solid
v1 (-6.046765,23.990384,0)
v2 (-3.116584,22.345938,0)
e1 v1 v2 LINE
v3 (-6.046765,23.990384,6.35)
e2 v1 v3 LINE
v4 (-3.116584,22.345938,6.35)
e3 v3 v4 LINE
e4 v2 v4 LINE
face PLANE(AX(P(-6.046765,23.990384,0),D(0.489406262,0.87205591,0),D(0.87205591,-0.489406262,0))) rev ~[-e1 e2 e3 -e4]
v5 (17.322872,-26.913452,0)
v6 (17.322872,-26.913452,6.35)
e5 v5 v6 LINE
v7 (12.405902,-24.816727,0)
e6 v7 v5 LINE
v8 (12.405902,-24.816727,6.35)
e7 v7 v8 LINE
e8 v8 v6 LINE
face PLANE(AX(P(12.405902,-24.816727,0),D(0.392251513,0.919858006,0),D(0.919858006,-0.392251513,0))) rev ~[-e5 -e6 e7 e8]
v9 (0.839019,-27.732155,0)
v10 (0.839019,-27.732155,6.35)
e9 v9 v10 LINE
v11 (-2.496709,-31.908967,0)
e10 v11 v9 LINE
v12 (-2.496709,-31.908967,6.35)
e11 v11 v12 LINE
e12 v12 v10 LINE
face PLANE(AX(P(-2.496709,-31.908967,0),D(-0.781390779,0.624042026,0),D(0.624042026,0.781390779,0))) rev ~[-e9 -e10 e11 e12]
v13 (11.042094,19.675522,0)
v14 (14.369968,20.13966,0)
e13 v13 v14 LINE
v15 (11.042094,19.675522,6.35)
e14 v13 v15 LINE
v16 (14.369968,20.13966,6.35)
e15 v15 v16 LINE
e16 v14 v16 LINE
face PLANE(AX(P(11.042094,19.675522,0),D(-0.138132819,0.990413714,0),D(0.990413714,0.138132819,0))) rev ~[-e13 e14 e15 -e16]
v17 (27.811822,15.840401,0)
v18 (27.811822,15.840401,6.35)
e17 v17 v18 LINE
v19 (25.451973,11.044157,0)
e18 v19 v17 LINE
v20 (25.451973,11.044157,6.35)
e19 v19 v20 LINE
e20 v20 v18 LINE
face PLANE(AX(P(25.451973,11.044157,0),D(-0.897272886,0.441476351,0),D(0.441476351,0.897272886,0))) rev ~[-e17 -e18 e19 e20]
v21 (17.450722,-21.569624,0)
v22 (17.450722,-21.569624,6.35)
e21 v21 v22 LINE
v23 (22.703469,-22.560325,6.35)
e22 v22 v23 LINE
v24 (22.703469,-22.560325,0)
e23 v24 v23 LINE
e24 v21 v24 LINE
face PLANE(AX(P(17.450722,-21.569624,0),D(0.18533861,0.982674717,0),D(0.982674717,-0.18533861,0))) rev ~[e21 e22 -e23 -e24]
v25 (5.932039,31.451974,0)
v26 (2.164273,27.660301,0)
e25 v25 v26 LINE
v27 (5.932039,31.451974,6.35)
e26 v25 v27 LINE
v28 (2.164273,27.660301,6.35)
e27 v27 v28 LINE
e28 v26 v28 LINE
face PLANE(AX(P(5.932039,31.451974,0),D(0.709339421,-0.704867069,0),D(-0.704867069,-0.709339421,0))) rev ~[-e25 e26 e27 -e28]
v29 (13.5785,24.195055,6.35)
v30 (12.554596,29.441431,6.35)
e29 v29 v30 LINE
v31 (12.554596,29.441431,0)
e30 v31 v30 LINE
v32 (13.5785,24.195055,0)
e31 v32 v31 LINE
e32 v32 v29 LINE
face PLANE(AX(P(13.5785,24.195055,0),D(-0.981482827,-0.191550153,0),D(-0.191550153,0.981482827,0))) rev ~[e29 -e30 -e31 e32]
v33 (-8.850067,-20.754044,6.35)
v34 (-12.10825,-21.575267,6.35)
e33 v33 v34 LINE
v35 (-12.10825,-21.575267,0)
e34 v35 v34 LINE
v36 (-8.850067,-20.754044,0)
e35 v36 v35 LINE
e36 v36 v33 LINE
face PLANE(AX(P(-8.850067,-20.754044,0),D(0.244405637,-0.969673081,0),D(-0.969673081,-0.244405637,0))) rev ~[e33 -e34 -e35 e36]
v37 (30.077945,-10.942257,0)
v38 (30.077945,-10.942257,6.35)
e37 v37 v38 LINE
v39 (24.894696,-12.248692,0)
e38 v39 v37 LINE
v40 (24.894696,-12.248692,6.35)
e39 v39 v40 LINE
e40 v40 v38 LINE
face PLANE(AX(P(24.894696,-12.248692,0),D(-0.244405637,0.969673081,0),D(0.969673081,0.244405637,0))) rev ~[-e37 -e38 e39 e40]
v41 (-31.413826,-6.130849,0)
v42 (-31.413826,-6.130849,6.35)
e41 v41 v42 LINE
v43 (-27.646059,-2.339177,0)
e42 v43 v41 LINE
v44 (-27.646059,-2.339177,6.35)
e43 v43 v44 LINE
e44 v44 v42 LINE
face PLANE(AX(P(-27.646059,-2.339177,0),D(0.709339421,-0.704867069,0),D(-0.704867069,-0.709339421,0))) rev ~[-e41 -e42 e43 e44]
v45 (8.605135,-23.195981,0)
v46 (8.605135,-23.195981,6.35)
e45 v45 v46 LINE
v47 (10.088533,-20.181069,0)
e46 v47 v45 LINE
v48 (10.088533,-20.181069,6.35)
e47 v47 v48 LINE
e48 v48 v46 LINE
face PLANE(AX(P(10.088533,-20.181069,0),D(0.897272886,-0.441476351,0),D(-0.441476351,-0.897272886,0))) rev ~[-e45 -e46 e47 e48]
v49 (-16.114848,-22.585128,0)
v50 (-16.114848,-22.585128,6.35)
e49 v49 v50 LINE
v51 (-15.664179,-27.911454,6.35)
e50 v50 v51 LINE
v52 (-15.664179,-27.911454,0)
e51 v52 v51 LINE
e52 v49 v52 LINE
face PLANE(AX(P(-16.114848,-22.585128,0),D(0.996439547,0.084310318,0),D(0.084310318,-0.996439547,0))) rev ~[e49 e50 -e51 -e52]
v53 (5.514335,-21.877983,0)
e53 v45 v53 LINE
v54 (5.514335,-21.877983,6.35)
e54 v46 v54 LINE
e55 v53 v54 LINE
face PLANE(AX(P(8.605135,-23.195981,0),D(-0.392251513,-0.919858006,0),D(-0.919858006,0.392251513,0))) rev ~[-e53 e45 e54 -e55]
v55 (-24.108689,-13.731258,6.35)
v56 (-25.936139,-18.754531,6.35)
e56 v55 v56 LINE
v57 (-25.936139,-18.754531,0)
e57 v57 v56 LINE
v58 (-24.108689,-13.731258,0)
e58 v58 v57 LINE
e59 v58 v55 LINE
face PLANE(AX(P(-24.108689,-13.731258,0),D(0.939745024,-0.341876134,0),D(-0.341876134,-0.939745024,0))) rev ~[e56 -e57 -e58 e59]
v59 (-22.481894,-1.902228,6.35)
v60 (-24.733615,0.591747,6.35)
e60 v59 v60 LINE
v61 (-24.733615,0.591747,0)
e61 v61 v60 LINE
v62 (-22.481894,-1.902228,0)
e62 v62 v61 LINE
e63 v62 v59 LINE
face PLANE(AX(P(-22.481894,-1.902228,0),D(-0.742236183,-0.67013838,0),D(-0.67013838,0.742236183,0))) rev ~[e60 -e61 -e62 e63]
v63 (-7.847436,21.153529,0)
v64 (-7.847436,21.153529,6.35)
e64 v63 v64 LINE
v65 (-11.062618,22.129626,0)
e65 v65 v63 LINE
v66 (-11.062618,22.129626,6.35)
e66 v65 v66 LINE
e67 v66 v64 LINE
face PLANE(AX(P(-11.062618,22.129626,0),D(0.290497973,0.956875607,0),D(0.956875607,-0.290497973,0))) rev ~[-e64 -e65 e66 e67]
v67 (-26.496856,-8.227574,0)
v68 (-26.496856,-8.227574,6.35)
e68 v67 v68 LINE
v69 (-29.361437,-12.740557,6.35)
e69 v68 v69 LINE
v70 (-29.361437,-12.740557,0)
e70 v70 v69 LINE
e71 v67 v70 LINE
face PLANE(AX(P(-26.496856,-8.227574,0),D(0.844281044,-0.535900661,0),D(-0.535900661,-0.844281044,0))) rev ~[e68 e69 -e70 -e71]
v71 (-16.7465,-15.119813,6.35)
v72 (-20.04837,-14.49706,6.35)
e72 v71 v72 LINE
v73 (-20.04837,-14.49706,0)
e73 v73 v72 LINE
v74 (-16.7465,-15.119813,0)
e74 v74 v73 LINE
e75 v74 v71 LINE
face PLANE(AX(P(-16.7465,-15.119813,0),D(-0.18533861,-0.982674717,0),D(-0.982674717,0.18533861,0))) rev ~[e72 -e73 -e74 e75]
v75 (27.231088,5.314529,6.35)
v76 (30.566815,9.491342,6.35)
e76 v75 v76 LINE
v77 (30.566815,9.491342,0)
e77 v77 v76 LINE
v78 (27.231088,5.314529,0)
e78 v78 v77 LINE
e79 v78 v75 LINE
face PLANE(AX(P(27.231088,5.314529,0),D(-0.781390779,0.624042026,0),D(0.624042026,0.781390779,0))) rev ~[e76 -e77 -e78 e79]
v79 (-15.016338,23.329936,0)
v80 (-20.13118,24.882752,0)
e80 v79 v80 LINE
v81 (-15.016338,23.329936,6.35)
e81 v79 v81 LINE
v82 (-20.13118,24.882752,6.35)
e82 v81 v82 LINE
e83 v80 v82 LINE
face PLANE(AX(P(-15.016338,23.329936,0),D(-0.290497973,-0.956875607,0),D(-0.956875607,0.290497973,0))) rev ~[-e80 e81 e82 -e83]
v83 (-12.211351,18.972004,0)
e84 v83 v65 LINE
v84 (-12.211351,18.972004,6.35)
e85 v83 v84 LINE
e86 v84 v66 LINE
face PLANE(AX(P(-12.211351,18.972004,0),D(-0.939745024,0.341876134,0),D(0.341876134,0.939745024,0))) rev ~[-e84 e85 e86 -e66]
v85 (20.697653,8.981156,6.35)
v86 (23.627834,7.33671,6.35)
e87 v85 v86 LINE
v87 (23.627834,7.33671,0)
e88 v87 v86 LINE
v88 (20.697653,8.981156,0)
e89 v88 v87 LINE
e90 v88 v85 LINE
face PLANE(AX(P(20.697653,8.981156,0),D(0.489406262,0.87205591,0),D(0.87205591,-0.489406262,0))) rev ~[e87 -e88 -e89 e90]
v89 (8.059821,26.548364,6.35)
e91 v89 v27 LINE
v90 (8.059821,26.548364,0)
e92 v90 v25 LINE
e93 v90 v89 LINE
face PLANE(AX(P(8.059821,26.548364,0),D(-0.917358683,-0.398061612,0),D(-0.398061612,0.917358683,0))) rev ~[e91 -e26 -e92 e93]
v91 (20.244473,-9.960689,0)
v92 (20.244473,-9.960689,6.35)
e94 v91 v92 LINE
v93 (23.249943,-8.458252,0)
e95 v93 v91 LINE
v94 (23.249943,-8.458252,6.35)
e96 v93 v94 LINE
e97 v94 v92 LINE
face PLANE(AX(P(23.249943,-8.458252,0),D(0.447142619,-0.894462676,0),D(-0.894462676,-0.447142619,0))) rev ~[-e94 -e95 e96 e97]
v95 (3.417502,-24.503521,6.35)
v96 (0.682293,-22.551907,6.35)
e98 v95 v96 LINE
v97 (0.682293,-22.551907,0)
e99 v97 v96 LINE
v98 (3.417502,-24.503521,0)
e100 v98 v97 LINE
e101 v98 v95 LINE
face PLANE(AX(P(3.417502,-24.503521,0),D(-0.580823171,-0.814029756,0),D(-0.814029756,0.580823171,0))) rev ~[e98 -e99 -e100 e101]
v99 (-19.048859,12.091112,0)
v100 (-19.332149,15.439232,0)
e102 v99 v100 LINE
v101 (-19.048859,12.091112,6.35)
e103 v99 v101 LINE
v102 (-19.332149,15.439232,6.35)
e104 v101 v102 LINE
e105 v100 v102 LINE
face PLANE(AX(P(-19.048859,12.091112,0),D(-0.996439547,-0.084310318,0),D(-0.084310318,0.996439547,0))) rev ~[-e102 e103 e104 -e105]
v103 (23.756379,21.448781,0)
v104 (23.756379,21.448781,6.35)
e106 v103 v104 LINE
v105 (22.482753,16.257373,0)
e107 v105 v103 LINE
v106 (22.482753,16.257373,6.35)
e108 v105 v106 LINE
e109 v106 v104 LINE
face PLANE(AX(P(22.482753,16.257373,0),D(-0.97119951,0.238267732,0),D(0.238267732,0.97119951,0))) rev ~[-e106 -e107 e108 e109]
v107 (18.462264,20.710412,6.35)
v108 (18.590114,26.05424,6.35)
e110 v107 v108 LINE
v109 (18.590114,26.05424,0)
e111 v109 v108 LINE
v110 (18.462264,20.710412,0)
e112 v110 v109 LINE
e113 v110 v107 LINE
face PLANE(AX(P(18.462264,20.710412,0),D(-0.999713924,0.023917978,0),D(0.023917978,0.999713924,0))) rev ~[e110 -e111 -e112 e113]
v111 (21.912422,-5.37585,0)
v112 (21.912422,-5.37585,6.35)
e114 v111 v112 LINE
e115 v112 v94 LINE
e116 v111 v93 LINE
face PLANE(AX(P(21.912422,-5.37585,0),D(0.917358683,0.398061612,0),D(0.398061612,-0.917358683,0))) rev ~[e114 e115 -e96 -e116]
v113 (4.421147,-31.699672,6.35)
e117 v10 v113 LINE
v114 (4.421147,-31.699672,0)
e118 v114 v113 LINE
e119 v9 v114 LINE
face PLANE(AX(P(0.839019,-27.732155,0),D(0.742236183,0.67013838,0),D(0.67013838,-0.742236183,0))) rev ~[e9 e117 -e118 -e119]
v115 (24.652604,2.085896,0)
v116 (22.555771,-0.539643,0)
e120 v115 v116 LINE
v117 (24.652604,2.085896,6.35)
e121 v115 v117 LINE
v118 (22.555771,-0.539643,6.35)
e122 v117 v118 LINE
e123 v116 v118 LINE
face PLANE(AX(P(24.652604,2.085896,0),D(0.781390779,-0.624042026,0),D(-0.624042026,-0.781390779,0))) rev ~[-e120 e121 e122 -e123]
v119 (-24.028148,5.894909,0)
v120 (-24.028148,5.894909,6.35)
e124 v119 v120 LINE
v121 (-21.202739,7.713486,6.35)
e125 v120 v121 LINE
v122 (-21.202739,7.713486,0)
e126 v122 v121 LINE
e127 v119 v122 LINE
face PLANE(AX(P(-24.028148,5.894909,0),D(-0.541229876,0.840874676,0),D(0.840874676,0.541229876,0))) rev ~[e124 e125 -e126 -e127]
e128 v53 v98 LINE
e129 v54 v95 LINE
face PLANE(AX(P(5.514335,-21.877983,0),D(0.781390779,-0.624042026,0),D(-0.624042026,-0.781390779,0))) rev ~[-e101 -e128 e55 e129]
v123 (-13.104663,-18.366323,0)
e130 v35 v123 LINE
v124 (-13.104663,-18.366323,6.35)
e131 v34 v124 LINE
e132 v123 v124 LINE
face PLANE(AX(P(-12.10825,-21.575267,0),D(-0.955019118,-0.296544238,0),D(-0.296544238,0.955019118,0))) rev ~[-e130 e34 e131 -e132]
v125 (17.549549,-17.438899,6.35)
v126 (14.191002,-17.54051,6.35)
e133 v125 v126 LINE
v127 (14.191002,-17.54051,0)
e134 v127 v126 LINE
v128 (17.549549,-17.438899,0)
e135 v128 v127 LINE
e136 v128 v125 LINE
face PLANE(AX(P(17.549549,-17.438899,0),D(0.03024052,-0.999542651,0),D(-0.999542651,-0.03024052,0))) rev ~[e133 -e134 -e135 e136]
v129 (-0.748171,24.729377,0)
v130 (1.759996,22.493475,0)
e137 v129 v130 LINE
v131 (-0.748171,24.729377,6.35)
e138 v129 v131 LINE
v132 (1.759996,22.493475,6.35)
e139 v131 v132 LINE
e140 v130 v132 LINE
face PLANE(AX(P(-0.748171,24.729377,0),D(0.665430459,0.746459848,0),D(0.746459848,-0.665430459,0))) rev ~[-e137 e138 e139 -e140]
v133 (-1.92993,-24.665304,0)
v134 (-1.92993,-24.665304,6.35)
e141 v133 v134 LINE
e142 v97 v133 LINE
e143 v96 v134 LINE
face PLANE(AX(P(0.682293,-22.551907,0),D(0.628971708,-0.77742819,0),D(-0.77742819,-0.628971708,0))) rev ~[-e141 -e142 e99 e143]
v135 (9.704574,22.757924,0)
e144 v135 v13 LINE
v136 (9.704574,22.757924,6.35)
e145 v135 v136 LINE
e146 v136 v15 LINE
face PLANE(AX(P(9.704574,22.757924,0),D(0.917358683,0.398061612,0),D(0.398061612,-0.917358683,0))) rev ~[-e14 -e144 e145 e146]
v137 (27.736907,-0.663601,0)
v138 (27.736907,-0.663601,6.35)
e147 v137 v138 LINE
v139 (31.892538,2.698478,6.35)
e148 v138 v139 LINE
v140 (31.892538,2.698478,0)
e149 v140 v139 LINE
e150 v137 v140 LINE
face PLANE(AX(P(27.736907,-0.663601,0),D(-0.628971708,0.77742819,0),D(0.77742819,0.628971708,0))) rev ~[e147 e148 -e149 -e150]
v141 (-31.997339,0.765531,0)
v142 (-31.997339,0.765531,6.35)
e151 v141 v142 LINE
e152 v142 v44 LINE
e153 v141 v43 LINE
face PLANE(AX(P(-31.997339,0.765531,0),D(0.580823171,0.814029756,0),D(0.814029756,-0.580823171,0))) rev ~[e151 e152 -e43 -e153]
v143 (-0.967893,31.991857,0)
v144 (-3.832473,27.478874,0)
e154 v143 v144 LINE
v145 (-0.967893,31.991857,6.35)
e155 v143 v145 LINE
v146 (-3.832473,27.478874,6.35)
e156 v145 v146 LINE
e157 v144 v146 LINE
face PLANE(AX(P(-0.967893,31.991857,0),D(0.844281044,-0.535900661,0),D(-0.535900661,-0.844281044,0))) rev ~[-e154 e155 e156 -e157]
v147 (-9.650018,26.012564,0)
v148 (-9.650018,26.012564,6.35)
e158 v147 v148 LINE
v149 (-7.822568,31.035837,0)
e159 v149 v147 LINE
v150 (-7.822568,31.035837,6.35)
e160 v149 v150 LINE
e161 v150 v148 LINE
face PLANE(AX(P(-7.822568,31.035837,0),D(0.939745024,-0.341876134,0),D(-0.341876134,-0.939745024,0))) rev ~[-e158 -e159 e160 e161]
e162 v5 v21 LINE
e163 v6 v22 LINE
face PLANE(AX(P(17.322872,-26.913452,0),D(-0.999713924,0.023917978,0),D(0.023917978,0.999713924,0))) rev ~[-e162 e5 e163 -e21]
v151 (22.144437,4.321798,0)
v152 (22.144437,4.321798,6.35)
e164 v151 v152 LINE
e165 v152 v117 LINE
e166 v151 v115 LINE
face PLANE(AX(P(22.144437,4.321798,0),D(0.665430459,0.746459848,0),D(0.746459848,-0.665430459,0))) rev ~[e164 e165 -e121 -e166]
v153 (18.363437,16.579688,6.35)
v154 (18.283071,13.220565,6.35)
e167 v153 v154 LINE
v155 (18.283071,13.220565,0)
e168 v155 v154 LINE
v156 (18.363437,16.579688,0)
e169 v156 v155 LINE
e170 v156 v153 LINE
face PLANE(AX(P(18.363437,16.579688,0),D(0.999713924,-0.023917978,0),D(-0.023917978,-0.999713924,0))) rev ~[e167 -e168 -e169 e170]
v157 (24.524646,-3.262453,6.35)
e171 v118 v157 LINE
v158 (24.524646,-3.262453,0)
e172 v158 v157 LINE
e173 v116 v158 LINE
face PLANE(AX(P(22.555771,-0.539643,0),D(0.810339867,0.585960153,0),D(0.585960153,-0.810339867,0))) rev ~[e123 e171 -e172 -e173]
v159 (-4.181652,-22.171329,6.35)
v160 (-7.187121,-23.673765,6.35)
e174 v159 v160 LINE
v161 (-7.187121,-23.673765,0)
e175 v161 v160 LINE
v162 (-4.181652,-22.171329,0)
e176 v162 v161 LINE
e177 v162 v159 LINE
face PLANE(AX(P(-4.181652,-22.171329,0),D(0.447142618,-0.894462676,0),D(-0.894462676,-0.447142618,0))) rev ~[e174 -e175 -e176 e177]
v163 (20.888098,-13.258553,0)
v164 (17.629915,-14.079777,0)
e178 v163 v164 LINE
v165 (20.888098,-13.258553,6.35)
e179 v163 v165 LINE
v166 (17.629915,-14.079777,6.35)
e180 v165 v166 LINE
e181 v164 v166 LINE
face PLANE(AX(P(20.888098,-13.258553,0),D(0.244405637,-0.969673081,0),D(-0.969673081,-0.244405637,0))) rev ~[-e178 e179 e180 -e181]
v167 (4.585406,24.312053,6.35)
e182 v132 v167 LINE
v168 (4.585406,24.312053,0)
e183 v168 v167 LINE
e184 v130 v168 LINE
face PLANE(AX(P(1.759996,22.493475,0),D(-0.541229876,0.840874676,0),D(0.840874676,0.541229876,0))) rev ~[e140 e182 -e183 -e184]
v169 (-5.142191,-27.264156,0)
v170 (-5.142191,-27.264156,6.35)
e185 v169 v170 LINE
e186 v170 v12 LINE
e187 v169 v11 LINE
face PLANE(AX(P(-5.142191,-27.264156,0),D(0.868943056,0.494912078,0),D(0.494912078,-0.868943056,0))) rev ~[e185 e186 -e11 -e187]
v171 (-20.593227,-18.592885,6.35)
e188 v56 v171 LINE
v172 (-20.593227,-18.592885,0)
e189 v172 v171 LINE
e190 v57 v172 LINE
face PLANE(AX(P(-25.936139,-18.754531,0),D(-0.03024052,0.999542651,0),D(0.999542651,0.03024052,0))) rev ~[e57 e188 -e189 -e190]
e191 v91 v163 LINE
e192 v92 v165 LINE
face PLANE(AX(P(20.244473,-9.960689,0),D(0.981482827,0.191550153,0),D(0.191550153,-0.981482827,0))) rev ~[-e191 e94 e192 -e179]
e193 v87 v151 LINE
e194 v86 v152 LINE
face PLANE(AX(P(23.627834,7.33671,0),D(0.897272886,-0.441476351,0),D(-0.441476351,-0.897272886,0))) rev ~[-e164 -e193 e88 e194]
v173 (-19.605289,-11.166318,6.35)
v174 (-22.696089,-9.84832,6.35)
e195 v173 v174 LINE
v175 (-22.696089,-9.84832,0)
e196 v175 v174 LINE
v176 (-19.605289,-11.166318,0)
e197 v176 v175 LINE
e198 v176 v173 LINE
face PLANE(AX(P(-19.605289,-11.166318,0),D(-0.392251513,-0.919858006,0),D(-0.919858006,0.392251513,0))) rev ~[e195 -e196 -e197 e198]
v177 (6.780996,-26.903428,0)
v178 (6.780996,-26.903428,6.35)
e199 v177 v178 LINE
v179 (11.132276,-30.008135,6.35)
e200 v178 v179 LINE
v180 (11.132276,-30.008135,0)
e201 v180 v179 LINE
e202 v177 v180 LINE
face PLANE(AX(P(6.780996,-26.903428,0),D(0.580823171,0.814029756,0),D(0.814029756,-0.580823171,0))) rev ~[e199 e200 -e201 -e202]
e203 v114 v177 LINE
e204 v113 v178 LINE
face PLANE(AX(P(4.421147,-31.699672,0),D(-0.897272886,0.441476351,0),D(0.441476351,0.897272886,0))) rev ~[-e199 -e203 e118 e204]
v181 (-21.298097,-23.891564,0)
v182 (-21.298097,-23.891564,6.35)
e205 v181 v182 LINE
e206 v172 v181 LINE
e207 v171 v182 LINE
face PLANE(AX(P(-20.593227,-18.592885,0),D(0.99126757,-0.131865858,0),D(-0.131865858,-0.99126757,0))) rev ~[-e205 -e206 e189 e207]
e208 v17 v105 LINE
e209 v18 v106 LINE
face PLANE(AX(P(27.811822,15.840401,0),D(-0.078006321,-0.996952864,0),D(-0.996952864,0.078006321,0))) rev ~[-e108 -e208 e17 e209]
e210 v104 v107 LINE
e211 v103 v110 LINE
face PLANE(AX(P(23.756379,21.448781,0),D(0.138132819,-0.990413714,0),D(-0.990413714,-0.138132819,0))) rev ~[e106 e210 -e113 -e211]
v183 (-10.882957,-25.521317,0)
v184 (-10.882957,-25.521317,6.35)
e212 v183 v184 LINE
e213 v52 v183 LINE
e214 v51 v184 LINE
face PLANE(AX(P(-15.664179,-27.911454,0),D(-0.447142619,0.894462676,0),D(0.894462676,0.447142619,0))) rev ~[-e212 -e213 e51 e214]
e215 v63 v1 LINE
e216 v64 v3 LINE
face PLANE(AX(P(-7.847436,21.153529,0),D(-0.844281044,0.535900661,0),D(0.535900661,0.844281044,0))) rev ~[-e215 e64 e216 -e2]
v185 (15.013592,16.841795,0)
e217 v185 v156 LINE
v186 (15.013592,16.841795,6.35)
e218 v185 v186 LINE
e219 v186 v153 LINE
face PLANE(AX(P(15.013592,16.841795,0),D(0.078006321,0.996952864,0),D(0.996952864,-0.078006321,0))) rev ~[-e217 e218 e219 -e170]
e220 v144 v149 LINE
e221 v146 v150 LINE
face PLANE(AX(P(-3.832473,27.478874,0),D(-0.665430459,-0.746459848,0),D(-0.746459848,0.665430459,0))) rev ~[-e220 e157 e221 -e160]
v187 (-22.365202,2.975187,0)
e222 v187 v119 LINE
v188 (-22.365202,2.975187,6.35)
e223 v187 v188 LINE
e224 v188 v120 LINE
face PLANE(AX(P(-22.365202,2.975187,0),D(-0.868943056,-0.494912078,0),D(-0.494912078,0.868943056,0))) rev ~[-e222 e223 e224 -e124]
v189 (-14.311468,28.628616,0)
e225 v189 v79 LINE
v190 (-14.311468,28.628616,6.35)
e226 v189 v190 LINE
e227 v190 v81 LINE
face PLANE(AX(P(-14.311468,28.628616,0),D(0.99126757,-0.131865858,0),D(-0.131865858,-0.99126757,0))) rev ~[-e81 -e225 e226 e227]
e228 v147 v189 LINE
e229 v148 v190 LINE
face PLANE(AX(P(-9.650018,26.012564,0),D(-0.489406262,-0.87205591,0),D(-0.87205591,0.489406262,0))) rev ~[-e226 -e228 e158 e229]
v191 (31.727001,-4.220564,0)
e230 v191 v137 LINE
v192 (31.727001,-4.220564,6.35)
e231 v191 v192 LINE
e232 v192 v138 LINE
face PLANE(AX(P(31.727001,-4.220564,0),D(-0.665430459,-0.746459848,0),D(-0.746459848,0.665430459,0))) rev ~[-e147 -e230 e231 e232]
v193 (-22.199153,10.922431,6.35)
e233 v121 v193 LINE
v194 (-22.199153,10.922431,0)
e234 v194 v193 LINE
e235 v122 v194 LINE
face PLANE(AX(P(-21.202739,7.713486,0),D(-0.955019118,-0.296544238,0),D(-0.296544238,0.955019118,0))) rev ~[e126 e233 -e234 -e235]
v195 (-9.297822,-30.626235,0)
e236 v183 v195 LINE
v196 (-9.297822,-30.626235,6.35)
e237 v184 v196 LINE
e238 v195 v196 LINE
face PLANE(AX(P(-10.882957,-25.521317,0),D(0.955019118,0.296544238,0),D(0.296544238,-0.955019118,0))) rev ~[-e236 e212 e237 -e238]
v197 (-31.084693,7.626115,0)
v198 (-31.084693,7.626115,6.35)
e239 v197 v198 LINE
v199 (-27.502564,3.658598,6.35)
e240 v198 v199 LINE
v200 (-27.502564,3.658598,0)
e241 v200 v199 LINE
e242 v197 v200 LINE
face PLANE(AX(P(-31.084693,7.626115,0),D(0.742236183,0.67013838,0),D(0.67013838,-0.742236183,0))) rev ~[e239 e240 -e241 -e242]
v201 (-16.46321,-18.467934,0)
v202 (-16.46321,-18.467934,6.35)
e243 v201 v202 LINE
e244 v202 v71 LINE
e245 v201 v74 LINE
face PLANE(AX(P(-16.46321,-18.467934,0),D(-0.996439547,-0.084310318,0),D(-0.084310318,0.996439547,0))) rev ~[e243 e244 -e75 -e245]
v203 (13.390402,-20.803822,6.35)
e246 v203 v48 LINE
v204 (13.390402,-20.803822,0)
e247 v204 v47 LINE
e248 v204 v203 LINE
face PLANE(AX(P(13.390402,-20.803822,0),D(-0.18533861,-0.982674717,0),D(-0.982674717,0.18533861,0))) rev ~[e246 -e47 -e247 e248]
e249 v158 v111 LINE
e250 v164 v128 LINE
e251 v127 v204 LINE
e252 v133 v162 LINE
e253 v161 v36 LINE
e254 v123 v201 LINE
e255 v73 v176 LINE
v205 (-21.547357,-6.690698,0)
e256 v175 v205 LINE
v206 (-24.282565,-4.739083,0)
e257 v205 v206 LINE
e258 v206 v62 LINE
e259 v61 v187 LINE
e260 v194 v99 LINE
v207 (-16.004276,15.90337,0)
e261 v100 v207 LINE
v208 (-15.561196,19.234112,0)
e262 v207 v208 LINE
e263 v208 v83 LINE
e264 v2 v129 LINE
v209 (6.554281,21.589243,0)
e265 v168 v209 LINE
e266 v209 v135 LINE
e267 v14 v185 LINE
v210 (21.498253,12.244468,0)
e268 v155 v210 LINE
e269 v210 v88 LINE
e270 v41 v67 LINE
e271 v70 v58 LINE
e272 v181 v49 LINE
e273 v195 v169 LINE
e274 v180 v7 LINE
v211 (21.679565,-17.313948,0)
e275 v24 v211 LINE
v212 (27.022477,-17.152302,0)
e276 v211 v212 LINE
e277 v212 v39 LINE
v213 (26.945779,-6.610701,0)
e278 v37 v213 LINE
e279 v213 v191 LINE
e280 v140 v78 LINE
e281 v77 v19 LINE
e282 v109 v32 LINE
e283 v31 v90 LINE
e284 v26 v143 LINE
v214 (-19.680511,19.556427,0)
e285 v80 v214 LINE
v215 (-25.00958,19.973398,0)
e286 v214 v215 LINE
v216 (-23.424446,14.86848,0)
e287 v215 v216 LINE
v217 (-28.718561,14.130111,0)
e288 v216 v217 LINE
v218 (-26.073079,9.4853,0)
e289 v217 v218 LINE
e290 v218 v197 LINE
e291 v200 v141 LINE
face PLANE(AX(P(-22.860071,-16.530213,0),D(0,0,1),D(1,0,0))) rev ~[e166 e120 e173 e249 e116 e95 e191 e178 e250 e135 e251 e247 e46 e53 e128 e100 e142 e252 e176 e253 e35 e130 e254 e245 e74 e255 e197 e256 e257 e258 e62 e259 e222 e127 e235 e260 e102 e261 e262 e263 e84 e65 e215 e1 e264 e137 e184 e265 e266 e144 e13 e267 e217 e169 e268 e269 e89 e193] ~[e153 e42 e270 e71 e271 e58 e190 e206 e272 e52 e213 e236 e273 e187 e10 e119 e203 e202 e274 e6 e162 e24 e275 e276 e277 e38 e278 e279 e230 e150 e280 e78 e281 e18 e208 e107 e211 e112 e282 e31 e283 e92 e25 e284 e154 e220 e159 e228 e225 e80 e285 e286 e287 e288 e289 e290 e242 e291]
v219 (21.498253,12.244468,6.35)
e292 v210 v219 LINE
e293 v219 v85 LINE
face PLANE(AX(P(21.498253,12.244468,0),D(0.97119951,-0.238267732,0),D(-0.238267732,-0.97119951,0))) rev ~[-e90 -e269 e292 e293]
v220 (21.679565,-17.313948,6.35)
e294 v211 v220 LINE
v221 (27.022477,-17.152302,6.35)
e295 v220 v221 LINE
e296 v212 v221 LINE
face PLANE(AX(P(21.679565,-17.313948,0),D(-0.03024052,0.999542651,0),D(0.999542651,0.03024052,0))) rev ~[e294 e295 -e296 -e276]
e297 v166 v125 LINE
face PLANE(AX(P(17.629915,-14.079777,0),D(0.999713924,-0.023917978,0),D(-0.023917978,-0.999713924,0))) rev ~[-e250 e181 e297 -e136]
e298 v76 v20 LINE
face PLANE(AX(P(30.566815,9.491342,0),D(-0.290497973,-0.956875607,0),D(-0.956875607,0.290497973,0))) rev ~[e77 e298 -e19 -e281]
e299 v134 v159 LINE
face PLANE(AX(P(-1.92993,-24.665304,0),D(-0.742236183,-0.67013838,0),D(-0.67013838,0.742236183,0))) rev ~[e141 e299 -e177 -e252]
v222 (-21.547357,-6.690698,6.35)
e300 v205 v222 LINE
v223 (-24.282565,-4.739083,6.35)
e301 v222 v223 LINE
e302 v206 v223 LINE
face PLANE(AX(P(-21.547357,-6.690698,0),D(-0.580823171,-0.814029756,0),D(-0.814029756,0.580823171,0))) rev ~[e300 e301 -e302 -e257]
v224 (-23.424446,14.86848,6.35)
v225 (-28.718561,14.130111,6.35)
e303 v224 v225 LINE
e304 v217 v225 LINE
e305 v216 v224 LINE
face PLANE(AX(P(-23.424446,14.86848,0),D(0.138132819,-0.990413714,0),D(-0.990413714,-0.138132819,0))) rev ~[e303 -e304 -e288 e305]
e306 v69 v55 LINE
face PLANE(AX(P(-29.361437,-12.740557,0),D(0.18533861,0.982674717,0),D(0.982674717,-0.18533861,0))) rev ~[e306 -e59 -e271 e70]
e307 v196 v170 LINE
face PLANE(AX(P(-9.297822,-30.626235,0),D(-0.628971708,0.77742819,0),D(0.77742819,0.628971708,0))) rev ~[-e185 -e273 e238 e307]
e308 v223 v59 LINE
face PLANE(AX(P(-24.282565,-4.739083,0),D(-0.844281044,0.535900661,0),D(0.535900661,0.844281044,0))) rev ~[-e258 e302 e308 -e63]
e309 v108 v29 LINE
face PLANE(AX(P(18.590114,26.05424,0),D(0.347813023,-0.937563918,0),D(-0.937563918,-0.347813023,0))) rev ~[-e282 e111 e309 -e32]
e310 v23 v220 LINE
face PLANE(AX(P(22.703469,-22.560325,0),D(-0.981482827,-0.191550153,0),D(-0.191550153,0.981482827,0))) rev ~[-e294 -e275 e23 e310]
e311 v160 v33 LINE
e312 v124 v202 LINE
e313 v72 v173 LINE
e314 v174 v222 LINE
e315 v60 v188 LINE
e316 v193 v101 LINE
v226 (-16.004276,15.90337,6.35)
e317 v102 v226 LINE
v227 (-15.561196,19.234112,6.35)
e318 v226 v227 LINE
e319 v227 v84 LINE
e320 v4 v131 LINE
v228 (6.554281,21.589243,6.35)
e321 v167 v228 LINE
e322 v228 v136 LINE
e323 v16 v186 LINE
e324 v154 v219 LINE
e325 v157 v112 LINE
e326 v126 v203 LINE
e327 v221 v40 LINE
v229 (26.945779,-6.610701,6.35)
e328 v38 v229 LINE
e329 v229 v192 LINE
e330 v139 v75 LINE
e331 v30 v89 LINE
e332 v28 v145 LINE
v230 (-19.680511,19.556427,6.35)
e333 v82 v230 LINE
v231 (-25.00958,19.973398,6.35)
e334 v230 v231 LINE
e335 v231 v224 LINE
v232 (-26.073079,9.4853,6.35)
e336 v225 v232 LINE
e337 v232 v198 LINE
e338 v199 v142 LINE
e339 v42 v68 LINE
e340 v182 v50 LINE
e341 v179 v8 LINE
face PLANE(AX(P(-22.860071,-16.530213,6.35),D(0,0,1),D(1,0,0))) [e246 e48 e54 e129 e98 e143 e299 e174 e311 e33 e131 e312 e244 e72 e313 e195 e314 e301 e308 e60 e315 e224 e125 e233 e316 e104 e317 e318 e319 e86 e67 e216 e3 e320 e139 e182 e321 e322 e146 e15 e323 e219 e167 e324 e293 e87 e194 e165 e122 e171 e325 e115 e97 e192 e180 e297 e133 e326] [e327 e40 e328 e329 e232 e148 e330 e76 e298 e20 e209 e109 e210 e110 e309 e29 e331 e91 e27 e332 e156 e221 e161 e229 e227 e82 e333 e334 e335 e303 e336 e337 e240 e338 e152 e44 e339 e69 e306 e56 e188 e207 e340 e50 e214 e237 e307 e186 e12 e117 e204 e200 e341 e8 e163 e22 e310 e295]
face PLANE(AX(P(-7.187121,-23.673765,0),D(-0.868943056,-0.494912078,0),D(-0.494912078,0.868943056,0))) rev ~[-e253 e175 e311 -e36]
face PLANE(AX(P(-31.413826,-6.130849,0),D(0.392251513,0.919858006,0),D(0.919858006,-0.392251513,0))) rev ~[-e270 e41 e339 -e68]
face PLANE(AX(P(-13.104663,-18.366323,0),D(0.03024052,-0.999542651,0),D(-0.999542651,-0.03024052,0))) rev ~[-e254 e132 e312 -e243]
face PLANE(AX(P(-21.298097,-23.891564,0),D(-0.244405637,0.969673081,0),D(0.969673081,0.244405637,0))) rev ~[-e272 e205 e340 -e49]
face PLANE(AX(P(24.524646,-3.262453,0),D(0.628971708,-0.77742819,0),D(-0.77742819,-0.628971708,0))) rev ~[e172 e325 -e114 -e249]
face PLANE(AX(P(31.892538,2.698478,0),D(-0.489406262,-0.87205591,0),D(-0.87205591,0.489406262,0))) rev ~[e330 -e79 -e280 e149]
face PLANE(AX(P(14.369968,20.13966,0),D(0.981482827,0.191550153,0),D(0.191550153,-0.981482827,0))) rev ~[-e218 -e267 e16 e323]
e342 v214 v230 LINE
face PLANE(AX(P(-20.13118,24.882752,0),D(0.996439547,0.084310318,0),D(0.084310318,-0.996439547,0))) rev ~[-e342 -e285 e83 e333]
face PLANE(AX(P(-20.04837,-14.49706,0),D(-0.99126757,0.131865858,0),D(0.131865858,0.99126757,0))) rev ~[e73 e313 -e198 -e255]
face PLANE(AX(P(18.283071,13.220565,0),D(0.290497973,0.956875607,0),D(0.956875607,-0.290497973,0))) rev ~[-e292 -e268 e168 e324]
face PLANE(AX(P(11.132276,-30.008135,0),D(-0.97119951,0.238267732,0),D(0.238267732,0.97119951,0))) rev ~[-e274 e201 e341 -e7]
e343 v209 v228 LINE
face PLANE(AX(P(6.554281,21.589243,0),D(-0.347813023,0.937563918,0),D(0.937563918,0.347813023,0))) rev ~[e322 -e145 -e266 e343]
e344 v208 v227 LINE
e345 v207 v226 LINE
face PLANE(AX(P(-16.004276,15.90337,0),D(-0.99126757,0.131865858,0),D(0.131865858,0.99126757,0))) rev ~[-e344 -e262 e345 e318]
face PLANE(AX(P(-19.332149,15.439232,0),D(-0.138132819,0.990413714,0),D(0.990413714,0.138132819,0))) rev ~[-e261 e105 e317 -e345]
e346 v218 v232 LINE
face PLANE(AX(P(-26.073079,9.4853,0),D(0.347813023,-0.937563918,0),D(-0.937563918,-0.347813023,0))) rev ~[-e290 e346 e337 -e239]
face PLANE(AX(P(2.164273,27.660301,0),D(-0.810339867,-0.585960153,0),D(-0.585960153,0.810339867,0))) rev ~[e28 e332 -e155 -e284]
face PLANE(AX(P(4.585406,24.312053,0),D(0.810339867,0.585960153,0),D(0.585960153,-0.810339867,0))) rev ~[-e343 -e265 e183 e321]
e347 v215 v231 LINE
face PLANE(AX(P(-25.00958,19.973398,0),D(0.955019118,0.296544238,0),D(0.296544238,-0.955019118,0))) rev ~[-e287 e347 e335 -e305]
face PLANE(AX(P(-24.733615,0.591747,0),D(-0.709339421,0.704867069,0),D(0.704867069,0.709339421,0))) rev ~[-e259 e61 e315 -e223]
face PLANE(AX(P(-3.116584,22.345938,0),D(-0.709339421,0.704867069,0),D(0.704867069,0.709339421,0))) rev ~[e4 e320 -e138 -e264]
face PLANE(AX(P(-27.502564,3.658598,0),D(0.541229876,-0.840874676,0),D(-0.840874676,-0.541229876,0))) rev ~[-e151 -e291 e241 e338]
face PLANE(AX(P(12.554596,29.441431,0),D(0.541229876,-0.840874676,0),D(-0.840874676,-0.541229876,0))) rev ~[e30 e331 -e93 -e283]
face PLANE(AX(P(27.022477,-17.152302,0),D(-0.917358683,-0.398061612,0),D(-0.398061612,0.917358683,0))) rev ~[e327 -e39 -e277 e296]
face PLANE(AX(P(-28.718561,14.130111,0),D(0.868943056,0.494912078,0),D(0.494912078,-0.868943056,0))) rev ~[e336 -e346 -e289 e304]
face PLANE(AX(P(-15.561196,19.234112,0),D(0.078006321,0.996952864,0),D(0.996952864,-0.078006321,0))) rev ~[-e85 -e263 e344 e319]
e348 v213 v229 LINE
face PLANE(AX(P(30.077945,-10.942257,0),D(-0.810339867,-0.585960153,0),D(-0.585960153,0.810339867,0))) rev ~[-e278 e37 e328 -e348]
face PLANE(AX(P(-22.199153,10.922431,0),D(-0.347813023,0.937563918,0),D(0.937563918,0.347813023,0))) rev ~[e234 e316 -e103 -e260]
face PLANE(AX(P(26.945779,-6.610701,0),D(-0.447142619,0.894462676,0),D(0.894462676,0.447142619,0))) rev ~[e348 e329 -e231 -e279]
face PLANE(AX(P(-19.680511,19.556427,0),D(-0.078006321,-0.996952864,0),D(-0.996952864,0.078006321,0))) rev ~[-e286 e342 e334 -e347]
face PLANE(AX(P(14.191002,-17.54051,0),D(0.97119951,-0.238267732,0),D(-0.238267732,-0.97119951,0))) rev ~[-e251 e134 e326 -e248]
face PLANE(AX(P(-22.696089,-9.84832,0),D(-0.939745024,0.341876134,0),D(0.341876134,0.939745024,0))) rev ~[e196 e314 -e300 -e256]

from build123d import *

# Parameters (mm, degrees)
F1_DEPTH = 6.35


with BuildPart() as f1:
    # F0 (on Top) → F1 (new body)
    with BuildSketch(Plane.XY):
        Polygon((-24.1086892498, -13.7312582458), (-25.9361392682, -18.7545309792), (-20.5932268628, -18.5928845996), (-20.0483695073, -14.4970599949), align=None)
        Polygon((-16.4632104005, -18.4679336069), (-20.5932268628, -18.5928845996), (-21.2980969645, -23.8915637428), (-16.1148480755, -22.585128334), align=None)
        Polygon((-12.1082498728, -21.5752671691), (-16.1148480755, -22.585128334), (-15.6641793179, -27.9114535394), (-10.8829569025, -25.521316569), align=None)
        Polygon((-7.1871210385, -23.6737652176), (-10.8829569025, -25.521316569), (-9.2978220559, -30.6262347898), (-5.1421907603, -27.2641564062), align=None)
        Polygon((-1.9299304123, -24.665304316), (-5.1421907603, -27.2641564062), (-2.4967089684, -31.9089673401), (0.8390185068, -27.7321545918), align=None)
        Polygon((8.6051350651, -23.1959806628), (6.7809962009, -26.9034280507), (11.1322759384, -30.0081353106), (12.4059020493, -24.816727115), align=None)
        Polygon((13.3904019635, -20.8038218521), (12.4059020493, -24.816727115), (17.3228715709, -26.9134515238), (17.4507217059, -21.5696236012), align=None)
        Polygon((17.5495485484, -17.4388994534), (17.4507217059, -21.5696236012), (22.7034689817, -22.5603246559), (21.6795650107, -17.3139484608), align=None)
        Polygon((24.8946959507, -12.2486923333), (20.8880977481, -13.2585534982), (21.6795650107, -17.3139484608), (27.0224774161, -17.1523020812), align=None)
        Polygon((26.9457785766, -6.6107009659), (23.2499427125, -8.4582523173), (24.8946959507, -12.2486923333), (30.0779448398, -10.9422569245), align=None)
        Polygon((24.5246461962, -3.2624526586), (26.9457785766, -6.6107009659), (31.727000992, -4.2205639955), (27.7369065442, -0.6636005685), align=None)
        Polygon((27.2310875892, 5.3145290539), (24.6526044809, 2.0858956603), (27.7369065442, -0.6636005685), (31.8925378399, 2.6984778152), align=None)
        Polygon((23.6278343795, 7.3367098166), (27.2310875892, 5.3145290539), (30.5668150644, 9.4913418023), (25.4519732437, 11.0441572045), align=None)
        Polygon((22.4827529172, 16.2573728388), (21.498253003, 12.2444675759), (25.4519732437, 11.0441572045), (27.811821989, 15.8404011956), align=None)
        Polygon((23.7563790281, 21.4487810344), (18.4622640521, 20.710411788), (18.3634372096, 16.5796876402), (22.4827529172, 16.2573728388), align=None)
        Polygon((13.5785002392, 24.1950549), (14.3699675018, 20.1396599374), (18.4622640521, 20.710411788), (18.5901141871, 26.0542397106), align=None)
        Polygon((12.5545962682, 29.4414310951), (8.0598208465, 26.5483641356), (9.7045740847, 22.7579241196), (13.5785002392, 24.1950549), align=None)
        Polygon((2.1642731889, 27.6603013707), (4.5854055693, 24.3120530635), (8.0598208465, 26.5483641356), (5.9320393812, 31.4519738835), align=None)
        Polygon((-0.9678930743, 31.9918573294), (-3.8324734776, 27.478873656), (-0.7481714143, 24.7293774271), (2.1642731889, 27.6603013707), align=None)
        Polygon((-7.8225679254, 31.035837083), (-9.6500179437, 26.0125643496), (-6.046764734, 23.990383587), (-3.8324734776, 27.478873656), align=None)
        Polygon((-15.0163382961, 23.3299364452), (-11.0626180553, 22.1296260737), (-9.6500179437, 26.0125643496), (-14.3114681944, 28.6286155884), align=None)
        Polygon((-20.1311801167, 24.8827518473), (-19.6805113592, 19.5564266419), (-15.5611956516, 19.2341118405), (-15.0163382961, 23.3299364452), align=None)
        Polygon((-25.0095804309, 19.9733982851), (-23.4244455844, 14.8684800642), (-19.3321490342, 15.4392319148), (-19.6805113592, 19.5564266419), align=None)
        Polygon((-28.7185605604, 14.1301108179), (-26.0730787685, 9.4852998839), (-22.1991526141, 10.9224306643), (-23.4244455844, 14.8684800642), align=None)
        Polygon((-31.0846927164, 7.6261150733), (-27.5025637676, 3.6585976232), (-24.0281484903, 5.8949086953), (-26.0730787685, 9.4852998839), align=None)
        Polygon((-31.9973391892, 0.7655306637), (-27.6460594517, -2.3391765962), (-24.7336148485, 0.5917473475), (-27.5025637676, 3.6585976232), align=None)
        Polygon((-31.413825644, -6.1308491089), (-26.4968561223, -8.2275735177), (-24.2825648659, -4.7390834487), (-27.6460594517, -2.3391765962), align=None)
        Polygon((-29.3614365256, -12.7405571911), (-24.1086892498, -13.7312582458), (-22.6960891382, -9.8483199699), (-26.4968561223, -8.2275735177), align=None)
        Polygon((3.4175016151, -24.5035211982), (0.8390185068, -27.7321545918), (4.4211474556, -31.6996720419), (6.7809962009, -26.9034280507), align=None)
        Polygon((-8.8500670839, -20.754043752), (-12.1082498728, -21.5752671691), (-10.8829569025, -25.521316569), (-7.1871210385, -23.6737652176), align=None)
        Polygon((0.682293437, -22.5519066847), (-1.9299304123, -24.665304316), (0.8390185068, -27.7321545918), (3.4175016151, -24.5035211982), align=None)
        Polygon((-4.181651512, -22.1713285593), (-7.1871210385, -23.6737652176), (-5.1421907603, -27.2641564062), (-1.9299304123, -24.665304316), align=None)
        Polygon((5.5143351032, -21.8779827183), (3.4175016151, -24.5035211982), (6.7809962009, -26.9034280507), (8.6051350651, -23.1959806628), align=None)
        Polygon((10.0885325887, -20.1810685955), (8.6051350651, -23.1959806628), (12.4059020493, -24.816727115), (13.3904019635, -20.8038218521), align=None)
        Polygon((20.8880977481, -13.2585534982), (17.6299149592, -14.0797769153), (17.5495485484, -17.4388994534), (21.6795650107, -17.3139484608), align=None)
        Polygon((-27.6460594517, -2.3391765962), (-24.2825648659, -4.7390834487), (-22.4818937488, -1.9022284093), (-24.7336148485, 0.5917473475), align=None)
        Polygon((-26.4968561223, -8.2275735177), (-22.6960891382, -9.8483199699), (-21.5473566878, -6.6906979621), (-24.2825648659, -4.7390834487), align=None)
        Polygon((-22.6960891382, -9.8483199699), (-24.1086892498, -13.7312582458), (-20.0483695073, -14.4970599949), (-19.6052891763, -11.1663179144), align=None)
        Polygon((-20.0483695073, -14.4970599949), (-20.5932268628, -18.5928845996), (-16.4632104005, -18.4679336069), (-16.7465001326, -15.1198132515), align=None)
        Polygon((-13.1046633551, -18.3663229254), (-16.4632104005, -18.4679336069), (-16.1148480755, -22.585128334), (-12.1082498728, -21.5752671691), align=None)
        Polygon((14.191001503, -17.5405101349), (13.3904019635, -20.8038218521), (17.4507217059, -21.5696236012), (17.5495485484, -17.4388994534), align=None)
        Polygon((23.2499427125, -8.4582523173), (20.2444731861, -9.9606889756), (20.8880977481, -13.2585534982), (24.8946959507, -12.2486923333), align=None)
        Polygon((21.912422347, -5.3758502899), (23.2499427125, -8.4582523173), (26.9457785766, -6.6107009659), (24.5246461962, -3.2624526586), align=None)
        Polygon((24.6526044809, 2.0858956603), (22.5557709928, -0.5396428196), (24.5246461962, -3.2624526586), (27.7369065442, -0.6636005685), align=None)
        Polygon((22.1444368559, 4.3217977493), (24.6526044809, 2.0858956603), (27.2310875892, 5.3145290539), (23.6278343795, 7.3367098166), align=None)
        Polygon((21.498253003, 12.2444675759), (20.6976534634, 8.9811558587), (23.6278343795, 7.3367098166), (25.4519732437, 11.0441572045), align=None)
        Polygon((18.3634372096, 16.5796876402), (18.2830707988, 13.220565102), (21.498253003, 12.2444675759), (22.4827529172, 16.2573728388), align=None)
        Polygon((18.4622640521, 20.710411788), (14.3699675018, 20.1396599374), (15.0135920638, 16.8417954148), (18.3634372096, 16.5796876402), align=None)
        Polygon((9.7045740847, 22.7579241196), (11.0420944503, 19.6755220922), (14.3699675018, 20.1396599374), (13.5785002392, 24.1950549), align=None)
        Polygon((8.0598208465, 26.5483641356), (4.5854055693, 24.3120530635), (6.5542807727, 21.5892432244), (9.7045740847, 22.7579241196), align=None)
        Polygon((-0.7481714143, 24.7293774271), (1.7599962107, 22.4934753382), (4.5854055693, 24.3120530635), (2.1642731889, 27.6603013707), align=None)
        Polygon((-3.8324734776, 27.478873656), (-6.046764734, 23.990383587), (-3.116583818, 22.3459375448), (-0.7481714143, 24.7293774271), align=None)
        Polygon((-9.6500179437, 26.0125643496), (-11.0626180553, 22.1296260737), (-7.8474358512, 21.1535285476), (-6.046764734, 23.990383587), align=None)
        Polygon((-15.5611956516, 19.2341118405), (-12.2113505057, 18.9720040659), (-11.0626180553, 22.1296260737), (-15.0163382961, 23.3299364452), align=None)
        Polygon((-19.6805113592, 19.5564266419), (-19.3321490342, 15.4392319148), (-16.0042759826, 15.90336976), (-15.5611956516, 19.2341118405), align=None)
        Polygon((-23.4244455844, 14.8684800642), (-22.1991526141, 10.9224306643), (-19.048859302, 12.0911115594), (-19.3321490342, 15.4392319148), align=None)
        Polygon((-26.0730787685, 9.4852998839), (-24.0281484903, 5.8949086953), (-21.2027391318, 7.7134864207), (-22.1991526141, 10.9224306643), align=None)
        Polygon((-27.5025637676, 3.6585976232), (-24.7336148485, 0.5917473475), (-22.3652024449, 2.9751872298), (-24.0281484903, 5.8949086953), align=None)
    extrude(amount=F1_DEPTH)


solid = f1.part
